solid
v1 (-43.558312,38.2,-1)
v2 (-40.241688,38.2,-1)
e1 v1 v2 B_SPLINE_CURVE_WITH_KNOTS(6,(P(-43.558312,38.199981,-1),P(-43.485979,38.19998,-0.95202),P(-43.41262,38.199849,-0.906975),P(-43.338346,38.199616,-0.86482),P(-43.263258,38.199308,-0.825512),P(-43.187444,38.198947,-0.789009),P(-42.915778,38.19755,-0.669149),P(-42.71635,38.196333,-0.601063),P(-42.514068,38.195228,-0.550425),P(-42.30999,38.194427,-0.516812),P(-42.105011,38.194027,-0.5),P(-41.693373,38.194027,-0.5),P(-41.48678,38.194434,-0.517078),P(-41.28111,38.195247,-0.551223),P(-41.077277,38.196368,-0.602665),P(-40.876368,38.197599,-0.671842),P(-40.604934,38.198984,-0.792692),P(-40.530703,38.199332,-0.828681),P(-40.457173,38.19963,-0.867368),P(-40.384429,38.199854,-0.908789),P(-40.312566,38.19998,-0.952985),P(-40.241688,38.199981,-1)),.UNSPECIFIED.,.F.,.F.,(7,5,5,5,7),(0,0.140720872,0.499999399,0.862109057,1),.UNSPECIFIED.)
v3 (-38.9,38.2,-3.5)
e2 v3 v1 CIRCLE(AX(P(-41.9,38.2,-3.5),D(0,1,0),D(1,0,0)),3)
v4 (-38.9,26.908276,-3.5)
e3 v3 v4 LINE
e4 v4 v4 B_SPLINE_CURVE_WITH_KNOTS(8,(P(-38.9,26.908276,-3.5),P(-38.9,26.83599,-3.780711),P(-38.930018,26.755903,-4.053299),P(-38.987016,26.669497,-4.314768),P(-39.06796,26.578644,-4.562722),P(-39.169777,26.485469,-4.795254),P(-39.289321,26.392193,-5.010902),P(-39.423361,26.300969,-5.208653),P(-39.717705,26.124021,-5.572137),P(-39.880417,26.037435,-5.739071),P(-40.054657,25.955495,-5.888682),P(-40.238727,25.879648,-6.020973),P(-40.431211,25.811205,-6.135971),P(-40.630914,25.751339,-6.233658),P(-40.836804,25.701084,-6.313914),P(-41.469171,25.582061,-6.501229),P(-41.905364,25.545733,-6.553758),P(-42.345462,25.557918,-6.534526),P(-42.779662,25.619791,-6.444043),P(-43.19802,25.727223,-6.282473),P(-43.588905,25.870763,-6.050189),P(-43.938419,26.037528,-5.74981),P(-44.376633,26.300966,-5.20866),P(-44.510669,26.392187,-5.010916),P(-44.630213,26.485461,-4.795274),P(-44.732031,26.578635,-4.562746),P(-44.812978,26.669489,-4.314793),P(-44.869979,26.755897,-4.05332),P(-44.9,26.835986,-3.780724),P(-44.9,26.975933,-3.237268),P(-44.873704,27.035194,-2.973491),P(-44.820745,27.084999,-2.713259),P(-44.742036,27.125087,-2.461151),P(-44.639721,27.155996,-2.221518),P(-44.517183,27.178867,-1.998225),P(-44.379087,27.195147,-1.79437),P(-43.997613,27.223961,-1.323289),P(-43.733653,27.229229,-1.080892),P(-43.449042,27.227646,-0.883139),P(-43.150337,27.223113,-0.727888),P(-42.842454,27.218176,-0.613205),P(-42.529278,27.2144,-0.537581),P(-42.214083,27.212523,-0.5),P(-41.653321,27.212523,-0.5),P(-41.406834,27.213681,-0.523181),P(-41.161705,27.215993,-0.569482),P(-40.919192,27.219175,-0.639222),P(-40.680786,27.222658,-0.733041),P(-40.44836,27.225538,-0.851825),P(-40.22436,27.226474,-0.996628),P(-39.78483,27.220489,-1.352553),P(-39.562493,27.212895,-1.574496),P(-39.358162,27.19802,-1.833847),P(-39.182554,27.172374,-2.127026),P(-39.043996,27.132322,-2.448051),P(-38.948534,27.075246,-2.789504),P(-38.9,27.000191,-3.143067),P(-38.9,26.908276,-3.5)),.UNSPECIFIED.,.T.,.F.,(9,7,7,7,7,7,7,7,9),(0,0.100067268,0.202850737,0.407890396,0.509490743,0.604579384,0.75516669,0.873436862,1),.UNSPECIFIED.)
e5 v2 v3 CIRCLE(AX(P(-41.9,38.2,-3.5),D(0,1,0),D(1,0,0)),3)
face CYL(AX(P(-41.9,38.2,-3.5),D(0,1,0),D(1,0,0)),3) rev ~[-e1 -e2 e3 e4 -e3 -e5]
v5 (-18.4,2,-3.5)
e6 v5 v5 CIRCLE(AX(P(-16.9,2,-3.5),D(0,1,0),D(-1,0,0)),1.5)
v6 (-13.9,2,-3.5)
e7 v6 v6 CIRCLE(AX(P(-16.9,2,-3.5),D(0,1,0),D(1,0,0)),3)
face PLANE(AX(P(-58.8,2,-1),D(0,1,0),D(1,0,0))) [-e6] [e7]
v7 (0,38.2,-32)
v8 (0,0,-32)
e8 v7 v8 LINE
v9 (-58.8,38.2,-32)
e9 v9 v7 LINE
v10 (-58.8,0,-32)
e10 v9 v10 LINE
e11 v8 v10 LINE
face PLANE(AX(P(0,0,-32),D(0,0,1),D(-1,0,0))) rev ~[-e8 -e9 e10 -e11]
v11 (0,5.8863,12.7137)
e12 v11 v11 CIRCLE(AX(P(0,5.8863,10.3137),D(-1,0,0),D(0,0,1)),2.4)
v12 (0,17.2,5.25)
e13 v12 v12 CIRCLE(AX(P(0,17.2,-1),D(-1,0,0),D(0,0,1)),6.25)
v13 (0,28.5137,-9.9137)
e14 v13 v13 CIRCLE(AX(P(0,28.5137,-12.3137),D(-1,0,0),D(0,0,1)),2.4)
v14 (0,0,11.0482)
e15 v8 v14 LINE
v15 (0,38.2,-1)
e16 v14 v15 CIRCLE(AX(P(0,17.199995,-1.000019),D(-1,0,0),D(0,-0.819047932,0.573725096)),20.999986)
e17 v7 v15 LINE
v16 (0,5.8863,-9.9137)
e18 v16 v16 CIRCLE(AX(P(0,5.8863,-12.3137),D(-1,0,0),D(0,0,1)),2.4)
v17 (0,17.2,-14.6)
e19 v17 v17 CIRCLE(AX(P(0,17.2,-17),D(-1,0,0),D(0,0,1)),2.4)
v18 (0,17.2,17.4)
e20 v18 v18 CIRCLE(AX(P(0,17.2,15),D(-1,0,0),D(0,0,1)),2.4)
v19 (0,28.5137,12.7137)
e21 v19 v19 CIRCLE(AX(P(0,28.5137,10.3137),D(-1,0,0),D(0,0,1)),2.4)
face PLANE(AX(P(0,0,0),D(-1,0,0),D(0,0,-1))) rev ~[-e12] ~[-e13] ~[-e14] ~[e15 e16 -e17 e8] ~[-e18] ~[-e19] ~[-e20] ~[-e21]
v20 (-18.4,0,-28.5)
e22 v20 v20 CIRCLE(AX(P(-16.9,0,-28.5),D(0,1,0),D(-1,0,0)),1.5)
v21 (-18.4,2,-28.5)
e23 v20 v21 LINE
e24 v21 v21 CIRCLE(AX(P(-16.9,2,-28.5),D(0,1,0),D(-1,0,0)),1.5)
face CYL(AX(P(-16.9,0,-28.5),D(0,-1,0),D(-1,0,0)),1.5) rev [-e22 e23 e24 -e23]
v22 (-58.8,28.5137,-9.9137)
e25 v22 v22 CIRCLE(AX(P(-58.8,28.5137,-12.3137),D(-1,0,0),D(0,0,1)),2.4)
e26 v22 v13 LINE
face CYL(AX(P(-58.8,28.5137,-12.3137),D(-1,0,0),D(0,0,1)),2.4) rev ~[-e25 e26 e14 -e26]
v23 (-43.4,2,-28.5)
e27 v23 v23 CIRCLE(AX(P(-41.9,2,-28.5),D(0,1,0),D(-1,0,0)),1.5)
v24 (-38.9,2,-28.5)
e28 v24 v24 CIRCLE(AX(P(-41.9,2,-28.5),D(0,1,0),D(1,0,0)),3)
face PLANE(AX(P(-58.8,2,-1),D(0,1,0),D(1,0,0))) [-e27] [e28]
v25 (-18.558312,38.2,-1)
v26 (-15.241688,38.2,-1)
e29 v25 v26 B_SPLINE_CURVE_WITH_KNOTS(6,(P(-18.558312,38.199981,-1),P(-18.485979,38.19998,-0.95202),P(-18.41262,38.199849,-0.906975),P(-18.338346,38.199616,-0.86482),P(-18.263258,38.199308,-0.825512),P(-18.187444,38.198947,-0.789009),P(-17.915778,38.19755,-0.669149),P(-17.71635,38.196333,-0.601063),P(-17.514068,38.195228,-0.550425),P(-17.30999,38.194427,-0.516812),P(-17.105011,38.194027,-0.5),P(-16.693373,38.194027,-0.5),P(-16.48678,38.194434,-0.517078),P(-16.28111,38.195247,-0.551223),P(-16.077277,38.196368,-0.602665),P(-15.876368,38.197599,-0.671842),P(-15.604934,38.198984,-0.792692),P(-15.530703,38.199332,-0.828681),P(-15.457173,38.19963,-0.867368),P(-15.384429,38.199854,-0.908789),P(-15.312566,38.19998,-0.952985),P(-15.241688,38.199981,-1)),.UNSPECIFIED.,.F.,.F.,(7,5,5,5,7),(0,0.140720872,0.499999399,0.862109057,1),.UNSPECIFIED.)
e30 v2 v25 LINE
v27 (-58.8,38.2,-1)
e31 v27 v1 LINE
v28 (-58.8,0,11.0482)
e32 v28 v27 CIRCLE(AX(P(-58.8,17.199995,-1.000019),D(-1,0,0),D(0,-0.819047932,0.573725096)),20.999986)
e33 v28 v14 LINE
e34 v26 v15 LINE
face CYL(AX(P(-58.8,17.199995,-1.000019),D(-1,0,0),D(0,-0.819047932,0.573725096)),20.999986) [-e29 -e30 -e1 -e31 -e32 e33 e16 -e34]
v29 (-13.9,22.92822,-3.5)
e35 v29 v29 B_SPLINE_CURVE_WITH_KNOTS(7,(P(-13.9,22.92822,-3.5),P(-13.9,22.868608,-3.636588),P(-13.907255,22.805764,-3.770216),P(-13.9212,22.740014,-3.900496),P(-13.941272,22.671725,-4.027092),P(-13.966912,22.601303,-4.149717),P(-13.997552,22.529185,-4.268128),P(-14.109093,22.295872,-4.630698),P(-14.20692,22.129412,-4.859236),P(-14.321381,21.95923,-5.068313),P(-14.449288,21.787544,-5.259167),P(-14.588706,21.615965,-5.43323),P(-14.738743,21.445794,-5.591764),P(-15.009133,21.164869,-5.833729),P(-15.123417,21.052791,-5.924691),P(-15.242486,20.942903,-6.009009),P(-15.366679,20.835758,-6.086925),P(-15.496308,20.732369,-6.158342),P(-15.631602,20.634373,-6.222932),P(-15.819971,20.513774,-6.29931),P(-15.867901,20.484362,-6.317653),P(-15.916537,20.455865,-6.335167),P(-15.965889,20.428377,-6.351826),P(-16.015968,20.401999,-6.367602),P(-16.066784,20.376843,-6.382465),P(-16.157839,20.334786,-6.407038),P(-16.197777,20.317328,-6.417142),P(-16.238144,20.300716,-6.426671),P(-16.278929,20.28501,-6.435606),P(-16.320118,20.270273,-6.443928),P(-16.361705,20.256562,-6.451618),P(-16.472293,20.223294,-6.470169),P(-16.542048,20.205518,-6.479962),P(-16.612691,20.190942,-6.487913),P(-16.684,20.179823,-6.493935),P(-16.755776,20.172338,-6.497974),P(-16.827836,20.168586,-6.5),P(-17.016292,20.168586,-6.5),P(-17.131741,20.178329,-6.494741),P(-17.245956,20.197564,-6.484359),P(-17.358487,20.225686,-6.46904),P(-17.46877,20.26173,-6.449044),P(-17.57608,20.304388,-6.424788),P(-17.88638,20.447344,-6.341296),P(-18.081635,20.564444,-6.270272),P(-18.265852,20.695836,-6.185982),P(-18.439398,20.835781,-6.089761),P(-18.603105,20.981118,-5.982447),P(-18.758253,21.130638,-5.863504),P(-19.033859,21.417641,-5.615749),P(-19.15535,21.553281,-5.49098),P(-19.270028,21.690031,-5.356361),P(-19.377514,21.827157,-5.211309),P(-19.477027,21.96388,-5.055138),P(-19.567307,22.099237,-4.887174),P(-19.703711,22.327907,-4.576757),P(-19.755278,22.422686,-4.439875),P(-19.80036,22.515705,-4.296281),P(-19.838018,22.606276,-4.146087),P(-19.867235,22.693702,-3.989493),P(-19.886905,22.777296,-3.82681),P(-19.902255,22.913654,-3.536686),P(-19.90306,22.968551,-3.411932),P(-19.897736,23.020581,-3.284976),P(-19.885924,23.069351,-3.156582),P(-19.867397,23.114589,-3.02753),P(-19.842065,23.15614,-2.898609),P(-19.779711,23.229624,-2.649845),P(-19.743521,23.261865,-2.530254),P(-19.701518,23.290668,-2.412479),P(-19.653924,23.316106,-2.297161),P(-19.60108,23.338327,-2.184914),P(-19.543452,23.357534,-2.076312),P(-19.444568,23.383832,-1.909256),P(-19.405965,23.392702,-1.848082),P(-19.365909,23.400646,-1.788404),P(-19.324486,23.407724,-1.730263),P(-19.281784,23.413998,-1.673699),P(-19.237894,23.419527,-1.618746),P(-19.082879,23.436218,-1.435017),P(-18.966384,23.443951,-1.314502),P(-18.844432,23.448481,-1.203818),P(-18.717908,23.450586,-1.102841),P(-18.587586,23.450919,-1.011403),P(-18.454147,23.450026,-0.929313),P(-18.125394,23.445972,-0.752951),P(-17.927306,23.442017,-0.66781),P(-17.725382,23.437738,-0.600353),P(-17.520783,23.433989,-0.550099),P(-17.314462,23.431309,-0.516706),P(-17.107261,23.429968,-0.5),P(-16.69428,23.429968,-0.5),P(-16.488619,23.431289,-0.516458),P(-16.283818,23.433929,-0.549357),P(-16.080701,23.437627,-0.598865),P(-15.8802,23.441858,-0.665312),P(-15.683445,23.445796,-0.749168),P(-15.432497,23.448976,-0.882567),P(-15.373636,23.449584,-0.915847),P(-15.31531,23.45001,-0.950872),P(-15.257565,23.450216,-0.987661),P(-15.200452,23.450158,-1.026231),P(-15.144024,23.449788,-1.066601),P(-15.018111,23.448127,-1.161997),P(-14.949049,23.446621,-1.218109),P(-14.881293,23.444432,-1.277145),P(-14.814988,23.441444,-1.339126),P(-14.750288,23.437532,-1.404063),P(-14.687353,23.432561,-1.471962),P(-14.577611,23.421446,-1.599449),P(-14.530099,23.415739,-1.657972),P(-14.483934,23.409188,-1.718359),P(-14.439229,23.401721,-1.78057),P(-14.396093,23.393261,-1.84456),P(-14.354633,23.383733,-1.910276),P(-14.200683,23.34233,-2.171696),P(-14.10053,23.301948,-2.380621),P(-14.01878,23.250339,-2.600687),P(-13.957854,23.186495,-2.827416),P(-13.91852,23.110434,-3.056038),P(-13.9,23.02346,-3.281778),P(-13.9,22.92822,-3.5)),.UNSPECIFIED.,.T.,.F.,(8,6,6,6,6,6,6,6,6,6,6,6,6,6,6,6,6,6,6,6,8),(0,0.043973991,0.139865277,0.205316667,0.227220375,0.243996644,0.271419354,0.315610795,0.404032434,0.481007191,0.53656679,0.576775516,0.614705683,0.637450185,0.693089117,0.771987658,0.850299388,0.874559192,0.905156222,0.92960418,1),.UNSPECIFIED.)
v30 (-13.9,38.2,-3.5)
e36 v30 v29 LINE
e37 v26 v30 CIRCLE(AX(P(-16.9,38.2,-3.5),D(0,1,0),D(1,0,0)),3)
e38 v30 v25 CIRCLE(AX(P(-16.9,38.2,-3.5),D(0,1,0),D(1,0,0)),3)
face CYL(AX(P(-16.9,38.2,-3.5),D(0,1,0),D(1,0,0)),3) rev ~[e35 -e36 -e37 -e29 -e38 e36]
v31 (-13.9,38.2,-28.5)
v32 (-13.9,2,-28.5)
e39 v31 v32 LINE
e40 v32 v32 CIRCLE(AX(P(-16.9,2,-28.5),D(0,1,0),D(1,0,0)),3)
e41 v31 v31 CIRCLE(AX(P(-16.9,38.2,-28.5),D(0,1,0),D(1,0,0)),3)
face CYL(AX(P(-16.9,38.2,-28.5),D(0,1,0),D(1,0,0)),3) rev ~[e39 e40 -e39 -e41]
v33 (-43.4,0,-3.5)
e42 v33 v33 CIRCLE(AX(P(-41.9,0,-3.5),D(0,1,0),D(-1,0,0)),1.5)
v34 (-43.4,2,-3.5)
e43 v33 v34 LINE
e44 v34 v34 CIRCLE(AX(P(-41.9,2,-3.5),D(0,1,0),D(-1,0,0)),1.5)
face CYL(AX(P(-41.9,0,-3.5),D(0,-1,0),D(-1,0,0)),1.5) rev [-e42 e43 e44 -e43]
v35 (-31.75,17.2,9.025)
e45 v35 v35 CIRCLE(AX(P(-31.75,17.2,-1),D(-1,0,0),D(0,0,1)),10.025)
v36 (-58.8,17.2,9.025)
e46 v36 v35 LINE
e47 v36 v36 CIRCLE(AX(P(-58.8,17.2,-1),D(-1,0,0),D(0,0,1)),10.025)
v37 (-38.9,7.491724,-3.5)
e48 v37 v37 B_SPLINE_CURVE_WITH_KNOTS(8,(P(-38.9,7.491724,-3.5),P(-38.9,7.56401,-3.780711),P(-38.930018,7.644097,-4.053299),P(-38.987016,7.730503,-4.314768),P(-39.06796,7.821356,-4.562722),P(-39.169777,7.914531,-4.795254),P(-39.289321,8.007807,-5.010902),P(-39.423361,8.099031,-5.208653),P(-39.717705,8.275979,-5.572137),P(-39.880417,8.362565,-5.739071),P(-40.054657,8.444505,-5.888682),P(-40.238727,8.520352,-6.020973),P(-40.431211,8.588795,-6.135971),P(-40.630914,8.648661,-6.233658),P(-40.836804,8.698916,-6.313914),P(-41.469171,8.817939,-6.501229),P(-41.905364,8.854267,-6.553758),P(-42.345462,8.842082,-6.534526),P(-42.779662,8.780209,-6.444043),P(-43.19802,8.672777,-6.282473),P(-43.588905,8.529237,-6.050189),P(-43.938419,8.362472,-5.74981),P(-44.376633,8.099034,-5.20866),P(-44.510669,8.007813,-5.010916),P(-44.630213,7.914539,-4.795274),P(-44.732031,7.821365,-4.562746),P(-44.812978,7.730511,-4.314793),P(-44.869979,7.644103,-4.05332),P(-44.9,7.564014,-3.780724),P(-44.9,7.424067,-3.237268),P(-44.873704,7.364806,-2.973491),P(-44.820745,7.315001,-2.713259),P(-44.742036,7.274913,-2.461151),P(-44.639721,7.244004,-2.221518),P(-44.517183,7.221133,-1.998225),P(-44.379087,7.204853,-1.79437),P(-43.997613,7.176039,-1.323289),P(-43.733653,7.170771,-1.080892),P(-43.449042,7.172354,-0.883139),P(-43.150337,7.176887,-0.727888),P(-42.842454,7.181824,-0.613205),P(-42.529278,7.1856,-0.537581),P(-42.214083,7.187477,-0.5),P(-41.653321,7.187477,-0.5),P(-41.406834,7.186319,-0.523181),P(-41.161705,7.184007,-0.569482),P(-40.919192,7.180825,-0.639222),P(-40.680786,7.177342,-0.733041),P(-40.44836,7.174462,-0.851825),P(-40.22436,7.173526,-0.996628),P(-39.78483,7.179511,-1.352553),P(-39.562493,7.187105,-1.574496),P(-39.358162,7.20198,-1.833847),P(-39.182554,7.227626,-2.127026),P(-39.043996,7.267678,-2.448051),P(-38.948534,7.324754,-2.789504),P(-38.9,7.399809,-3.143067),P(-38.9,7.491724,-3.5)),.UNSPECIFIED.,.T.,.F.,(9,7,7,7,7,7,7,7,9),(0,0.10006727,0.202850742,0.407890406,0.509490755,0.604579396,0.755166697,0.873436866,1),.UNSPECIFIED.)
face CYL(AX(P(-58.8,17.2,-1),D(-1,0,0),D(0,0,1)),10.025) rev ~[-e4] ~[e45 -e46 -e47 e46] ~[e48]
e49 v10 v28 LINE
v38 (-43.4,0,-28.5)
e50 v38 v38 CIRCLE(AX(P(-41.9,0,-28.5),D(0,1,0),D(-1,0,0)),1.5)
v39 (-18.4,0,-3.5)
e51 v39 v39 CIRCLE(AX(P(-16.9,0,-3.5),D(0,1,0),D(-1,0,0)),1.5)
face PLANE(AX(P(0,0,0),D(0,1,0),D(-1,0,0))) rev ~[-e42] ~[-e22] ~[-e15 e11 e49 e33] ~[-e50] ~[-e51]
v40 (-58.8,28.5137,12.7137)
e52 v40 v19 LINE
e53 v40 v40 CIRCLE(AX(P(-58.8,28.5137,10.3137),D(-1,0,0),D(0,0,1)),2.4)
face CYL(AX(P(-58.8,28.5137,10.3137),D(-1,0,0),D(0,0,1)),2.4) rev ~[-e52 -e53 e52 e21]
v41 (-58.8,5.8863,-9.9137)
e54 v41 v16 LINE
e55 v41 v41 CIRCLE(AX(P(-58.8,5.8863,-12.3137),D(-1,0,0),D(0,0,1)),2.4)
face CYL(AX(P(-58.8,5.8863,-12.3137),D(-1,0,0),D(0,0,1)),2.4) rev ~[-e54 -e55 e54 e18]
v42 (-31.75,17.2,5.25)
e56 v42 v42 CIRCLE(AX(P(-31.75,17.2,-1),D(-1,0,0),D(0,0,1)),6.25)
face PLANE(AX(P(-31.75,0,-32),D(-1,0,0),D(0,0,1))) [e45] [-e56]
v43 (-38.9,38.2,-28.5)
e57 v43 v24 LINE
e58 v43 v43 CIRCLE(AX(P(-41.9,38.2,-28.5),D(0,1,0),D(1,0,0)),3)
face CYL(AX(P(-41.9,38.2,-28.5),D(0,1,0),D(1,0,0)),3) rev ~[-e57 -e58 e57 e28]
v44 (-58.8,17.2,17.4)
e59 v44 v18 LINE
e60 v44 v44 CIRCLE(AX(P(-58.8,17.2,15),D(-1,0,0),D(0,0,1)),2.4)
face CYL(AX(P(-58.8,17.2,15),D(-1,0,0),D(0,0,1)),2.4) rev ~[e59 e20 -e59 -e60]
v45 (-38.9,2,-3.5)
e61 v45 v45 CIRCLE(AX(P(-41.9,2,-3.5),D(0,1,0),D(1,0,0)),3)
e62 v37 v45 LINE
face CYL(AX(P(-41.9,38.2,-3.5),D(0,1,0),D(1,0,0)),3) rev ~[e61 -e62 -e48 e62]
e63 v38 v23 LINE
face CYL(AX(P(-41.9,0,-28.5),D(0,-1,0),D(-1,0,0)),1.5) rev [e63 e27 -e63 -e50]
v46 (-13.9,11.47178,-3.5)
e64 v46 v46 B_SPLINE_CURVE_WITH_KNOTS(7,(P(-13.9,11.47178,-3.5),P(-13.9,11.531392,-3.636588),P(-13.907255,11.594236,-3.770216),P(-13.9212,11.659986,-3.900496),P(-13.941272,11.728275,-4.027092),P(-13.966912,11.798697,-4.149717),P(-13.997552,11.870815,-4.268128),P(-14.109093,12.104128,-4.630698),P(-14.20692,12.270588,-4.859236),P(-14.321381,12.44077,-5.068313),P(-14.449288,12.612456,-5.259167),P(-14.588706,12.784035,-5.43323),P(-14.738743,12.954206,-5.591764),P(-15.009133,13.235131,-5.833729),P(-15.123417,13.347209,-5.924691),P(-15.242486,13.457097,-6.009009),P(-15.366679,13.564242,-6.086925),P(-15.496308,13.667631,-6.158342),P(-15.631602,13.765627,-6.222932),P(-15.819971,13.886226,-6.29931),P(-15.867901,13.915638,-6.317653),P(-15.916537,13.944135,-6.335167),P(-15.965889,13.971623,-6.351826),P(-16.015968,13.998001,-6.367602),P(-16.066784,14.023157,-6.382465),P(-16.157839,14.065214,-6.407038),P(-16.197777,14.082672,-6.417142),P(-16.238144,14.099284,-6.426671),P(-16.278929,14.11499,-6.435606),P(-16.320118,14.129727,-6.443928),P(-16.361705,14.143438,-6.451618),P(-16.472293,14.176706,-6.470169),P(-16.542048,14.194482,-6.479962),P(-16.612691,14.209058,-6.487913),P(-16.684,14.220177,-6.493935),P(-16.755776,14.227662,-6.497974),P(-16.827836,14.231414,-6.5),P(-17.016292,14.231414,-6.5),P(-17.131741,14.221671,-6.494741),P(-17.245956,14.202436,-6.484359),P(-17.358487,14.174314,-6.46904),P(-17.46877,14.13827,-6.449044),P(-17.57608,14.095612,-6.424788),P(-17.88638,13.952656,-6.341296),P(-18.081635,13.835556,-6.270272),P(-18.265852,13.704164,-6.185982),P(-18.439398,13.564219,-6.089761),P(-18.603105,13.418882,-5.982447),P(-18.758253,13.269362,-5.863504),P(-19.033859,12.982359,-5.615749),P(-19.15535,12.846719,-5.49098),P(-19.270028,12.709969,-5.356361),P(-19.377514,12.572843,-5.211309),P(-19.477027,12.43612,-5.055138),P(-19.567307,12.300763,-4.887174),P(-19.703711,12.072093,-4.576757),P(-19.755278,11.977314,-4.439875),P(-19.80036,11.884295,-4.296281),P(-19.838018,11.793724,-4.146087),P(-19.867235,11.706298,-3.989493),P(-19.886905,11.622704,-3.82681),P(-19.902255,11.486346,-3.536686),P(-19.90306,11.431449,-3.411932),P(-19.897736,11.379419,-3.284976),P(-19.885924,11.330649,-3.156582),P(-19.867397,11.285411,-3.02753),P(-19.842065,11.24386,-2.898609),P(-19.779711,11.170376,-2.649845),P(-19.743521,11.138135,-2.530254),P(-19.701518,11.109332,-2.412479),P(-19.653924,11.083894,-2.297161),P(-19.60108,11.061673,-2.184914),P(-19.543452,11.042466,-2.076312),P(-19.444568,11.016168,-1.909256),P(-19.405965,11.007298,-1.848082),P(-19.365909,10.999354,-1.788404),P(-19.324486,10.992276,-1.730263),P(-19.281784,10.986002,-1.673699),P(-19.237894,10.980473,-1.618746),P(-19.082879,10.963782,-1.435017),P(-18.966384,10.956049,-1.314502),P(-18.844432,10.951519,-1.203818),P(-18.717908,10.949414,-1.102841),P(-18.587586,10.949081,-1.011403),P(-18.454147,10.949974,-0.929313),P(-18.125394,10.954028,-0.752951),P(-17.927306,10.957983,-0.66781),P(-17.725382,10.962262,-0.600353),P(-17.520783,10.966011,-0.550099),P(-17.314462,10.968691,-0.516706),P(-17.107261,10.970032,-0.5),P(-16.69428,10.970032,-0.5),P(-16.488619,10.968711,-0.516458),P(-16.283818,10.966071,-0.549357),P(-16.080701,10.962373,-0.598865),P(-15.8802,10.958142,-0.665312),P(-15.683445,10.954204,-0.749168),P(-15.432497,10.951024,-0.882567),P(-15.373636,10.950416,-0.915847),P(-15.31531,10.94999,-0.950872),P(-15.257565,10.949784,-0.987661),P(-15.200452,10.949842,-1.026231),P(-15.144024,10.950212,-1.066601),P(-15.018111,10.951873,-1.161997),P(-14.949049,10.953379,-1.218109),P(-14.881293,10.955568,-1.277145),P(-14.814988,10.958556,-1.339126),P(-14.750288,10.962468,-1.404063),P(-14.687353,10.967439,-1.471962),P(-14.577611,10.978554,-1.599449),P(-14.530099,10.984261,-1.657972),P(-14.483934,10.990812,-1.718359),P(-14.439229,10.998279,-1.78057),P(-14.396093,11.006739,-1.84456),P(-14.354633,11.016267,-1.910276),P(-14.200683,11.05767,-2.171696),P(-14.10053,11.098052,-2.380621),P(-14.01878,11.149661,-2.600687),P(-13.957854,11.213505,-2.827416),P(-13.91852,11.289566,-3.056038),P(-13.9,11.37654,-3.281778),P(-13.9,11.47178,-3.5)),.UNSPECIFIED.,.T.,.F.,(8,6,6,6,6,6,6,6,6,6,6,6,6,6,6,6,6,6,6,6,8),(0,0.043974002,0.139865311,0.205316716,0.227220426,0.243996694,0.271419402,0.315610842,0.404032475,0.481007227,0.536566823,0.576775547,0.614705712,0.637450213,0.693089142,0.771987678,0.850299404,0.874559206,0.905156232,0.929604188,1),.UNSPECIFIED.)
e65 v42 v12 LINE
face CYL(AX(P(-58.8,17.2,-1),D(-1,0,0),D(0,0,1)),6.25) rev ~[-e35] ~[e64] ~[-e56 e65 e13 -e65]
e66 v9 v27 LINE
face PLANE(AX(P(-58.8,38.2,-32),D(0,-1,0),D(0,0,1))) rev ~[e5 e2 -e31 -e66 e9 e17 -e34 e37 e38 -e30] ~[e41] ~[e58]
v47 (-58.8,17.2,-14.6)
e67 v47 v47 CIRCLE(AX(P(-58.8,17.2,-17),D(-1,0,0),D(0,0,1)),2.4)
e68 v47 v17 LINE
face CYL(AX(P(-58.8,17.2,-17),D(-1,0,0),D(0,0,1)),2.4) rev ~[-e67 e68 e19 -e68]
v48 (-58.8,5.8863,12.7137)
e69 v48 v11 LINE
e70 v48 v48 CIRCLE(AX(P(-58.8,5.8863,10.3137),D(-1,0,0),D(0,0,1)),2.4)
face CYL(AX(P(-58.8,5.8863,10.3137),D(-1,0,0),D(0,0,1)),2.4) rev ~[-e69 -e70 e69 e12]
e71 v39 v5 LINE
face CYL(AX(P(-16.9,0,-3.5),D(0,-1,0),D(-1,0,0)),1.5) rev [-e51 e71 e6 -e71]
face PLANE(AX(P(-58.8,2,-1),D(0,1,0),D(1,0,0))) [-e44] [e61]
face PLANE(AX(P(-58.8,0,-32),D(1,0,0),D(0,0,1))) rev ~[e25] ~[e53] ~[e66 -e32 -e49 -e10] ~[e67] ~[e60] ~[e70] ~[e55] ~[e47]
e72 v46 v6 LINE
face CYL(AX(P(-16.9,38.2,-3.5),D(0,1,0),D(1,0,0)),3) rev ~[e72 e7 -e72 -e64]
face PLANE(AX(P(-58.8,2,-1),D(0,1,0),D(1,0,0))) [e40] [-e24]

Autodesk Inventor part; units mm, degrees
ref_plane "YZ Plane" through (0, 0, 0) normal (1, 0, 0) x (0, 1, 0)
ref_plane "XZ Plane" through (0, 0, 0) normal (0, 1, 0) x (-1, 0, 0)
ref_plane "XY Plane" through (0, 0, 0) normal (0, 0, 1) x (1, 0, 0)
sketch "Sketch1" plane through (0, 0, 0) normal (0, 1, 0) x (-1, 0, 0)
  line L0 (58.8, 0) -> (0, 0)
  line L1 (0, 0) -> (0, -32)
  line L2 (0, -32) -> (58.8, -32)
  line L3 (58.8, -32) -> (58.8, 0)
  line L4 (41.9, -3.5) -> (16.9, -3.5) construction
  line L5 (16.9, -3.5) -> (16.9, -28.5) construction
  line L6 (16.9, -28.5) -> (41.9, -28.5) construction
  line L7 (41.9, -28.5) -> (41.9, -3.5) construction
  circle A0 centre (41.9, -3.5) radius 1.5
  circle A1 centre (16.9, -3.5) radius 1.5
  circle A2 centre (41.9, -28.5) radius 1.5
  circle A3 centre (16.9, -28.5) radius 1.5
  point P0 (41.9, -16)
  point P1 (58.8, -16)
  point P2 (29.4, -28.5)
  point P3 (29.4, -32)
  dimension "d0" = 3
  dimension "d1" = 25
  dimension "d2" = 32
  dimension "d3" = 58.8
extrude "Extrusion1" add sketch "Sketch1" along normal blind 2
sketch "Sketch2" plane through (-58.8, 0, -32) normal (-1, 0, 0) x (0, 0, 1)
  circle A0 centre (31, 17.2) radius 16 construction
  circle A1 centre (42.3137, 28.5137) radius 2.4
  circle A2 centre (15, 17.2) radius 2.4
  circle A3 centre (19.6863, 5.8863) radius 2.4
  circle A4 centre (19.6863, 28.5137) radius 2.4
  circle A5 centre (47, 17.2) radius 2.4
  circle A6 centre (42.3137, 5.8863) radius 2.4
  line L0 (19.6863, 28.5137) -> (42.3137, 5.8863) construction
  line L1 (15, 17.2) -> (31, 17.2) construction
  line L2 (0, 2) -> (32, 2) projected
  arc A7 (43.0482, 0) -> (16.51, 2) centre (31, 17.2) ccw
  line L3 (0, 0) -> (32, 0) projected
  line L4 (32, 0) -> (43.0482, 0)
  line L5 (32, 0) -> (32, 2) projected
  line L6 (0, 2) -> (0, 38.2)
  line L7 (0, 38.2) -> (31, 38.2)
  circle A8 centre (31, 17.2) radius 6.25
  point P0 (31, 17.2)
  dimension "d6" = 4.8
  dimension "d7" = 32
  dimension "d9" = 15.2
  dimension "d11" = 45
  dimension "d12" = 31
  dimension "d14" = 21
  dimension "d17" = 12.5
extrude "Extrusion2" add sketch "Sketch2" against normal up to surface (58.8 mm away)
sketch "Sketch3" plane through (-58.8, 0, -32) normal (-1, 0, 0) x (0, 0, 1)
  circle A0 centre (31, 17.2) radius 10.025
  circle A1 centre (31, 17.2) radius 6.25 construction
  point P0 (32, 0)
  dimension "d18" = 20.05
extrude "Extrusion3" cut sketch "Sketch3" against normal blind 27.05
sketch "Sketch4" plane through (-58.8, 38.2, -1) normal (0, 1, 0) x (1, 0, 0)
  circle A0 centre (41.9, 2.5) radius 1.5 projected
  circle A1 centre (41.9, 27.5) radius 1.5 projected
  circle A2 centre (16.9, 2.5) radius 1.5 projected
  circle A3 centre (16.9, 27.5) radius 1.5 projected
  circle A4 centre (16.9, 2.5) radius 3
  circle A5 centre (16.9, 27.5) radius 3
  circle A6 centre (41.9, 27.5) radius 3
  circle A7 centre (41.9, 2.5) radius 3
  point P0 (58.8, -1)
  dimension "d21" = 6
extrude "Extrusion4" cut sketch "Sketch4" against normal up to surface (36.2 mm away) contours A0 | A1 | A2 | A3 | A4 | A5 | A6 | A7
properties part number "X_Axis_Connector"
